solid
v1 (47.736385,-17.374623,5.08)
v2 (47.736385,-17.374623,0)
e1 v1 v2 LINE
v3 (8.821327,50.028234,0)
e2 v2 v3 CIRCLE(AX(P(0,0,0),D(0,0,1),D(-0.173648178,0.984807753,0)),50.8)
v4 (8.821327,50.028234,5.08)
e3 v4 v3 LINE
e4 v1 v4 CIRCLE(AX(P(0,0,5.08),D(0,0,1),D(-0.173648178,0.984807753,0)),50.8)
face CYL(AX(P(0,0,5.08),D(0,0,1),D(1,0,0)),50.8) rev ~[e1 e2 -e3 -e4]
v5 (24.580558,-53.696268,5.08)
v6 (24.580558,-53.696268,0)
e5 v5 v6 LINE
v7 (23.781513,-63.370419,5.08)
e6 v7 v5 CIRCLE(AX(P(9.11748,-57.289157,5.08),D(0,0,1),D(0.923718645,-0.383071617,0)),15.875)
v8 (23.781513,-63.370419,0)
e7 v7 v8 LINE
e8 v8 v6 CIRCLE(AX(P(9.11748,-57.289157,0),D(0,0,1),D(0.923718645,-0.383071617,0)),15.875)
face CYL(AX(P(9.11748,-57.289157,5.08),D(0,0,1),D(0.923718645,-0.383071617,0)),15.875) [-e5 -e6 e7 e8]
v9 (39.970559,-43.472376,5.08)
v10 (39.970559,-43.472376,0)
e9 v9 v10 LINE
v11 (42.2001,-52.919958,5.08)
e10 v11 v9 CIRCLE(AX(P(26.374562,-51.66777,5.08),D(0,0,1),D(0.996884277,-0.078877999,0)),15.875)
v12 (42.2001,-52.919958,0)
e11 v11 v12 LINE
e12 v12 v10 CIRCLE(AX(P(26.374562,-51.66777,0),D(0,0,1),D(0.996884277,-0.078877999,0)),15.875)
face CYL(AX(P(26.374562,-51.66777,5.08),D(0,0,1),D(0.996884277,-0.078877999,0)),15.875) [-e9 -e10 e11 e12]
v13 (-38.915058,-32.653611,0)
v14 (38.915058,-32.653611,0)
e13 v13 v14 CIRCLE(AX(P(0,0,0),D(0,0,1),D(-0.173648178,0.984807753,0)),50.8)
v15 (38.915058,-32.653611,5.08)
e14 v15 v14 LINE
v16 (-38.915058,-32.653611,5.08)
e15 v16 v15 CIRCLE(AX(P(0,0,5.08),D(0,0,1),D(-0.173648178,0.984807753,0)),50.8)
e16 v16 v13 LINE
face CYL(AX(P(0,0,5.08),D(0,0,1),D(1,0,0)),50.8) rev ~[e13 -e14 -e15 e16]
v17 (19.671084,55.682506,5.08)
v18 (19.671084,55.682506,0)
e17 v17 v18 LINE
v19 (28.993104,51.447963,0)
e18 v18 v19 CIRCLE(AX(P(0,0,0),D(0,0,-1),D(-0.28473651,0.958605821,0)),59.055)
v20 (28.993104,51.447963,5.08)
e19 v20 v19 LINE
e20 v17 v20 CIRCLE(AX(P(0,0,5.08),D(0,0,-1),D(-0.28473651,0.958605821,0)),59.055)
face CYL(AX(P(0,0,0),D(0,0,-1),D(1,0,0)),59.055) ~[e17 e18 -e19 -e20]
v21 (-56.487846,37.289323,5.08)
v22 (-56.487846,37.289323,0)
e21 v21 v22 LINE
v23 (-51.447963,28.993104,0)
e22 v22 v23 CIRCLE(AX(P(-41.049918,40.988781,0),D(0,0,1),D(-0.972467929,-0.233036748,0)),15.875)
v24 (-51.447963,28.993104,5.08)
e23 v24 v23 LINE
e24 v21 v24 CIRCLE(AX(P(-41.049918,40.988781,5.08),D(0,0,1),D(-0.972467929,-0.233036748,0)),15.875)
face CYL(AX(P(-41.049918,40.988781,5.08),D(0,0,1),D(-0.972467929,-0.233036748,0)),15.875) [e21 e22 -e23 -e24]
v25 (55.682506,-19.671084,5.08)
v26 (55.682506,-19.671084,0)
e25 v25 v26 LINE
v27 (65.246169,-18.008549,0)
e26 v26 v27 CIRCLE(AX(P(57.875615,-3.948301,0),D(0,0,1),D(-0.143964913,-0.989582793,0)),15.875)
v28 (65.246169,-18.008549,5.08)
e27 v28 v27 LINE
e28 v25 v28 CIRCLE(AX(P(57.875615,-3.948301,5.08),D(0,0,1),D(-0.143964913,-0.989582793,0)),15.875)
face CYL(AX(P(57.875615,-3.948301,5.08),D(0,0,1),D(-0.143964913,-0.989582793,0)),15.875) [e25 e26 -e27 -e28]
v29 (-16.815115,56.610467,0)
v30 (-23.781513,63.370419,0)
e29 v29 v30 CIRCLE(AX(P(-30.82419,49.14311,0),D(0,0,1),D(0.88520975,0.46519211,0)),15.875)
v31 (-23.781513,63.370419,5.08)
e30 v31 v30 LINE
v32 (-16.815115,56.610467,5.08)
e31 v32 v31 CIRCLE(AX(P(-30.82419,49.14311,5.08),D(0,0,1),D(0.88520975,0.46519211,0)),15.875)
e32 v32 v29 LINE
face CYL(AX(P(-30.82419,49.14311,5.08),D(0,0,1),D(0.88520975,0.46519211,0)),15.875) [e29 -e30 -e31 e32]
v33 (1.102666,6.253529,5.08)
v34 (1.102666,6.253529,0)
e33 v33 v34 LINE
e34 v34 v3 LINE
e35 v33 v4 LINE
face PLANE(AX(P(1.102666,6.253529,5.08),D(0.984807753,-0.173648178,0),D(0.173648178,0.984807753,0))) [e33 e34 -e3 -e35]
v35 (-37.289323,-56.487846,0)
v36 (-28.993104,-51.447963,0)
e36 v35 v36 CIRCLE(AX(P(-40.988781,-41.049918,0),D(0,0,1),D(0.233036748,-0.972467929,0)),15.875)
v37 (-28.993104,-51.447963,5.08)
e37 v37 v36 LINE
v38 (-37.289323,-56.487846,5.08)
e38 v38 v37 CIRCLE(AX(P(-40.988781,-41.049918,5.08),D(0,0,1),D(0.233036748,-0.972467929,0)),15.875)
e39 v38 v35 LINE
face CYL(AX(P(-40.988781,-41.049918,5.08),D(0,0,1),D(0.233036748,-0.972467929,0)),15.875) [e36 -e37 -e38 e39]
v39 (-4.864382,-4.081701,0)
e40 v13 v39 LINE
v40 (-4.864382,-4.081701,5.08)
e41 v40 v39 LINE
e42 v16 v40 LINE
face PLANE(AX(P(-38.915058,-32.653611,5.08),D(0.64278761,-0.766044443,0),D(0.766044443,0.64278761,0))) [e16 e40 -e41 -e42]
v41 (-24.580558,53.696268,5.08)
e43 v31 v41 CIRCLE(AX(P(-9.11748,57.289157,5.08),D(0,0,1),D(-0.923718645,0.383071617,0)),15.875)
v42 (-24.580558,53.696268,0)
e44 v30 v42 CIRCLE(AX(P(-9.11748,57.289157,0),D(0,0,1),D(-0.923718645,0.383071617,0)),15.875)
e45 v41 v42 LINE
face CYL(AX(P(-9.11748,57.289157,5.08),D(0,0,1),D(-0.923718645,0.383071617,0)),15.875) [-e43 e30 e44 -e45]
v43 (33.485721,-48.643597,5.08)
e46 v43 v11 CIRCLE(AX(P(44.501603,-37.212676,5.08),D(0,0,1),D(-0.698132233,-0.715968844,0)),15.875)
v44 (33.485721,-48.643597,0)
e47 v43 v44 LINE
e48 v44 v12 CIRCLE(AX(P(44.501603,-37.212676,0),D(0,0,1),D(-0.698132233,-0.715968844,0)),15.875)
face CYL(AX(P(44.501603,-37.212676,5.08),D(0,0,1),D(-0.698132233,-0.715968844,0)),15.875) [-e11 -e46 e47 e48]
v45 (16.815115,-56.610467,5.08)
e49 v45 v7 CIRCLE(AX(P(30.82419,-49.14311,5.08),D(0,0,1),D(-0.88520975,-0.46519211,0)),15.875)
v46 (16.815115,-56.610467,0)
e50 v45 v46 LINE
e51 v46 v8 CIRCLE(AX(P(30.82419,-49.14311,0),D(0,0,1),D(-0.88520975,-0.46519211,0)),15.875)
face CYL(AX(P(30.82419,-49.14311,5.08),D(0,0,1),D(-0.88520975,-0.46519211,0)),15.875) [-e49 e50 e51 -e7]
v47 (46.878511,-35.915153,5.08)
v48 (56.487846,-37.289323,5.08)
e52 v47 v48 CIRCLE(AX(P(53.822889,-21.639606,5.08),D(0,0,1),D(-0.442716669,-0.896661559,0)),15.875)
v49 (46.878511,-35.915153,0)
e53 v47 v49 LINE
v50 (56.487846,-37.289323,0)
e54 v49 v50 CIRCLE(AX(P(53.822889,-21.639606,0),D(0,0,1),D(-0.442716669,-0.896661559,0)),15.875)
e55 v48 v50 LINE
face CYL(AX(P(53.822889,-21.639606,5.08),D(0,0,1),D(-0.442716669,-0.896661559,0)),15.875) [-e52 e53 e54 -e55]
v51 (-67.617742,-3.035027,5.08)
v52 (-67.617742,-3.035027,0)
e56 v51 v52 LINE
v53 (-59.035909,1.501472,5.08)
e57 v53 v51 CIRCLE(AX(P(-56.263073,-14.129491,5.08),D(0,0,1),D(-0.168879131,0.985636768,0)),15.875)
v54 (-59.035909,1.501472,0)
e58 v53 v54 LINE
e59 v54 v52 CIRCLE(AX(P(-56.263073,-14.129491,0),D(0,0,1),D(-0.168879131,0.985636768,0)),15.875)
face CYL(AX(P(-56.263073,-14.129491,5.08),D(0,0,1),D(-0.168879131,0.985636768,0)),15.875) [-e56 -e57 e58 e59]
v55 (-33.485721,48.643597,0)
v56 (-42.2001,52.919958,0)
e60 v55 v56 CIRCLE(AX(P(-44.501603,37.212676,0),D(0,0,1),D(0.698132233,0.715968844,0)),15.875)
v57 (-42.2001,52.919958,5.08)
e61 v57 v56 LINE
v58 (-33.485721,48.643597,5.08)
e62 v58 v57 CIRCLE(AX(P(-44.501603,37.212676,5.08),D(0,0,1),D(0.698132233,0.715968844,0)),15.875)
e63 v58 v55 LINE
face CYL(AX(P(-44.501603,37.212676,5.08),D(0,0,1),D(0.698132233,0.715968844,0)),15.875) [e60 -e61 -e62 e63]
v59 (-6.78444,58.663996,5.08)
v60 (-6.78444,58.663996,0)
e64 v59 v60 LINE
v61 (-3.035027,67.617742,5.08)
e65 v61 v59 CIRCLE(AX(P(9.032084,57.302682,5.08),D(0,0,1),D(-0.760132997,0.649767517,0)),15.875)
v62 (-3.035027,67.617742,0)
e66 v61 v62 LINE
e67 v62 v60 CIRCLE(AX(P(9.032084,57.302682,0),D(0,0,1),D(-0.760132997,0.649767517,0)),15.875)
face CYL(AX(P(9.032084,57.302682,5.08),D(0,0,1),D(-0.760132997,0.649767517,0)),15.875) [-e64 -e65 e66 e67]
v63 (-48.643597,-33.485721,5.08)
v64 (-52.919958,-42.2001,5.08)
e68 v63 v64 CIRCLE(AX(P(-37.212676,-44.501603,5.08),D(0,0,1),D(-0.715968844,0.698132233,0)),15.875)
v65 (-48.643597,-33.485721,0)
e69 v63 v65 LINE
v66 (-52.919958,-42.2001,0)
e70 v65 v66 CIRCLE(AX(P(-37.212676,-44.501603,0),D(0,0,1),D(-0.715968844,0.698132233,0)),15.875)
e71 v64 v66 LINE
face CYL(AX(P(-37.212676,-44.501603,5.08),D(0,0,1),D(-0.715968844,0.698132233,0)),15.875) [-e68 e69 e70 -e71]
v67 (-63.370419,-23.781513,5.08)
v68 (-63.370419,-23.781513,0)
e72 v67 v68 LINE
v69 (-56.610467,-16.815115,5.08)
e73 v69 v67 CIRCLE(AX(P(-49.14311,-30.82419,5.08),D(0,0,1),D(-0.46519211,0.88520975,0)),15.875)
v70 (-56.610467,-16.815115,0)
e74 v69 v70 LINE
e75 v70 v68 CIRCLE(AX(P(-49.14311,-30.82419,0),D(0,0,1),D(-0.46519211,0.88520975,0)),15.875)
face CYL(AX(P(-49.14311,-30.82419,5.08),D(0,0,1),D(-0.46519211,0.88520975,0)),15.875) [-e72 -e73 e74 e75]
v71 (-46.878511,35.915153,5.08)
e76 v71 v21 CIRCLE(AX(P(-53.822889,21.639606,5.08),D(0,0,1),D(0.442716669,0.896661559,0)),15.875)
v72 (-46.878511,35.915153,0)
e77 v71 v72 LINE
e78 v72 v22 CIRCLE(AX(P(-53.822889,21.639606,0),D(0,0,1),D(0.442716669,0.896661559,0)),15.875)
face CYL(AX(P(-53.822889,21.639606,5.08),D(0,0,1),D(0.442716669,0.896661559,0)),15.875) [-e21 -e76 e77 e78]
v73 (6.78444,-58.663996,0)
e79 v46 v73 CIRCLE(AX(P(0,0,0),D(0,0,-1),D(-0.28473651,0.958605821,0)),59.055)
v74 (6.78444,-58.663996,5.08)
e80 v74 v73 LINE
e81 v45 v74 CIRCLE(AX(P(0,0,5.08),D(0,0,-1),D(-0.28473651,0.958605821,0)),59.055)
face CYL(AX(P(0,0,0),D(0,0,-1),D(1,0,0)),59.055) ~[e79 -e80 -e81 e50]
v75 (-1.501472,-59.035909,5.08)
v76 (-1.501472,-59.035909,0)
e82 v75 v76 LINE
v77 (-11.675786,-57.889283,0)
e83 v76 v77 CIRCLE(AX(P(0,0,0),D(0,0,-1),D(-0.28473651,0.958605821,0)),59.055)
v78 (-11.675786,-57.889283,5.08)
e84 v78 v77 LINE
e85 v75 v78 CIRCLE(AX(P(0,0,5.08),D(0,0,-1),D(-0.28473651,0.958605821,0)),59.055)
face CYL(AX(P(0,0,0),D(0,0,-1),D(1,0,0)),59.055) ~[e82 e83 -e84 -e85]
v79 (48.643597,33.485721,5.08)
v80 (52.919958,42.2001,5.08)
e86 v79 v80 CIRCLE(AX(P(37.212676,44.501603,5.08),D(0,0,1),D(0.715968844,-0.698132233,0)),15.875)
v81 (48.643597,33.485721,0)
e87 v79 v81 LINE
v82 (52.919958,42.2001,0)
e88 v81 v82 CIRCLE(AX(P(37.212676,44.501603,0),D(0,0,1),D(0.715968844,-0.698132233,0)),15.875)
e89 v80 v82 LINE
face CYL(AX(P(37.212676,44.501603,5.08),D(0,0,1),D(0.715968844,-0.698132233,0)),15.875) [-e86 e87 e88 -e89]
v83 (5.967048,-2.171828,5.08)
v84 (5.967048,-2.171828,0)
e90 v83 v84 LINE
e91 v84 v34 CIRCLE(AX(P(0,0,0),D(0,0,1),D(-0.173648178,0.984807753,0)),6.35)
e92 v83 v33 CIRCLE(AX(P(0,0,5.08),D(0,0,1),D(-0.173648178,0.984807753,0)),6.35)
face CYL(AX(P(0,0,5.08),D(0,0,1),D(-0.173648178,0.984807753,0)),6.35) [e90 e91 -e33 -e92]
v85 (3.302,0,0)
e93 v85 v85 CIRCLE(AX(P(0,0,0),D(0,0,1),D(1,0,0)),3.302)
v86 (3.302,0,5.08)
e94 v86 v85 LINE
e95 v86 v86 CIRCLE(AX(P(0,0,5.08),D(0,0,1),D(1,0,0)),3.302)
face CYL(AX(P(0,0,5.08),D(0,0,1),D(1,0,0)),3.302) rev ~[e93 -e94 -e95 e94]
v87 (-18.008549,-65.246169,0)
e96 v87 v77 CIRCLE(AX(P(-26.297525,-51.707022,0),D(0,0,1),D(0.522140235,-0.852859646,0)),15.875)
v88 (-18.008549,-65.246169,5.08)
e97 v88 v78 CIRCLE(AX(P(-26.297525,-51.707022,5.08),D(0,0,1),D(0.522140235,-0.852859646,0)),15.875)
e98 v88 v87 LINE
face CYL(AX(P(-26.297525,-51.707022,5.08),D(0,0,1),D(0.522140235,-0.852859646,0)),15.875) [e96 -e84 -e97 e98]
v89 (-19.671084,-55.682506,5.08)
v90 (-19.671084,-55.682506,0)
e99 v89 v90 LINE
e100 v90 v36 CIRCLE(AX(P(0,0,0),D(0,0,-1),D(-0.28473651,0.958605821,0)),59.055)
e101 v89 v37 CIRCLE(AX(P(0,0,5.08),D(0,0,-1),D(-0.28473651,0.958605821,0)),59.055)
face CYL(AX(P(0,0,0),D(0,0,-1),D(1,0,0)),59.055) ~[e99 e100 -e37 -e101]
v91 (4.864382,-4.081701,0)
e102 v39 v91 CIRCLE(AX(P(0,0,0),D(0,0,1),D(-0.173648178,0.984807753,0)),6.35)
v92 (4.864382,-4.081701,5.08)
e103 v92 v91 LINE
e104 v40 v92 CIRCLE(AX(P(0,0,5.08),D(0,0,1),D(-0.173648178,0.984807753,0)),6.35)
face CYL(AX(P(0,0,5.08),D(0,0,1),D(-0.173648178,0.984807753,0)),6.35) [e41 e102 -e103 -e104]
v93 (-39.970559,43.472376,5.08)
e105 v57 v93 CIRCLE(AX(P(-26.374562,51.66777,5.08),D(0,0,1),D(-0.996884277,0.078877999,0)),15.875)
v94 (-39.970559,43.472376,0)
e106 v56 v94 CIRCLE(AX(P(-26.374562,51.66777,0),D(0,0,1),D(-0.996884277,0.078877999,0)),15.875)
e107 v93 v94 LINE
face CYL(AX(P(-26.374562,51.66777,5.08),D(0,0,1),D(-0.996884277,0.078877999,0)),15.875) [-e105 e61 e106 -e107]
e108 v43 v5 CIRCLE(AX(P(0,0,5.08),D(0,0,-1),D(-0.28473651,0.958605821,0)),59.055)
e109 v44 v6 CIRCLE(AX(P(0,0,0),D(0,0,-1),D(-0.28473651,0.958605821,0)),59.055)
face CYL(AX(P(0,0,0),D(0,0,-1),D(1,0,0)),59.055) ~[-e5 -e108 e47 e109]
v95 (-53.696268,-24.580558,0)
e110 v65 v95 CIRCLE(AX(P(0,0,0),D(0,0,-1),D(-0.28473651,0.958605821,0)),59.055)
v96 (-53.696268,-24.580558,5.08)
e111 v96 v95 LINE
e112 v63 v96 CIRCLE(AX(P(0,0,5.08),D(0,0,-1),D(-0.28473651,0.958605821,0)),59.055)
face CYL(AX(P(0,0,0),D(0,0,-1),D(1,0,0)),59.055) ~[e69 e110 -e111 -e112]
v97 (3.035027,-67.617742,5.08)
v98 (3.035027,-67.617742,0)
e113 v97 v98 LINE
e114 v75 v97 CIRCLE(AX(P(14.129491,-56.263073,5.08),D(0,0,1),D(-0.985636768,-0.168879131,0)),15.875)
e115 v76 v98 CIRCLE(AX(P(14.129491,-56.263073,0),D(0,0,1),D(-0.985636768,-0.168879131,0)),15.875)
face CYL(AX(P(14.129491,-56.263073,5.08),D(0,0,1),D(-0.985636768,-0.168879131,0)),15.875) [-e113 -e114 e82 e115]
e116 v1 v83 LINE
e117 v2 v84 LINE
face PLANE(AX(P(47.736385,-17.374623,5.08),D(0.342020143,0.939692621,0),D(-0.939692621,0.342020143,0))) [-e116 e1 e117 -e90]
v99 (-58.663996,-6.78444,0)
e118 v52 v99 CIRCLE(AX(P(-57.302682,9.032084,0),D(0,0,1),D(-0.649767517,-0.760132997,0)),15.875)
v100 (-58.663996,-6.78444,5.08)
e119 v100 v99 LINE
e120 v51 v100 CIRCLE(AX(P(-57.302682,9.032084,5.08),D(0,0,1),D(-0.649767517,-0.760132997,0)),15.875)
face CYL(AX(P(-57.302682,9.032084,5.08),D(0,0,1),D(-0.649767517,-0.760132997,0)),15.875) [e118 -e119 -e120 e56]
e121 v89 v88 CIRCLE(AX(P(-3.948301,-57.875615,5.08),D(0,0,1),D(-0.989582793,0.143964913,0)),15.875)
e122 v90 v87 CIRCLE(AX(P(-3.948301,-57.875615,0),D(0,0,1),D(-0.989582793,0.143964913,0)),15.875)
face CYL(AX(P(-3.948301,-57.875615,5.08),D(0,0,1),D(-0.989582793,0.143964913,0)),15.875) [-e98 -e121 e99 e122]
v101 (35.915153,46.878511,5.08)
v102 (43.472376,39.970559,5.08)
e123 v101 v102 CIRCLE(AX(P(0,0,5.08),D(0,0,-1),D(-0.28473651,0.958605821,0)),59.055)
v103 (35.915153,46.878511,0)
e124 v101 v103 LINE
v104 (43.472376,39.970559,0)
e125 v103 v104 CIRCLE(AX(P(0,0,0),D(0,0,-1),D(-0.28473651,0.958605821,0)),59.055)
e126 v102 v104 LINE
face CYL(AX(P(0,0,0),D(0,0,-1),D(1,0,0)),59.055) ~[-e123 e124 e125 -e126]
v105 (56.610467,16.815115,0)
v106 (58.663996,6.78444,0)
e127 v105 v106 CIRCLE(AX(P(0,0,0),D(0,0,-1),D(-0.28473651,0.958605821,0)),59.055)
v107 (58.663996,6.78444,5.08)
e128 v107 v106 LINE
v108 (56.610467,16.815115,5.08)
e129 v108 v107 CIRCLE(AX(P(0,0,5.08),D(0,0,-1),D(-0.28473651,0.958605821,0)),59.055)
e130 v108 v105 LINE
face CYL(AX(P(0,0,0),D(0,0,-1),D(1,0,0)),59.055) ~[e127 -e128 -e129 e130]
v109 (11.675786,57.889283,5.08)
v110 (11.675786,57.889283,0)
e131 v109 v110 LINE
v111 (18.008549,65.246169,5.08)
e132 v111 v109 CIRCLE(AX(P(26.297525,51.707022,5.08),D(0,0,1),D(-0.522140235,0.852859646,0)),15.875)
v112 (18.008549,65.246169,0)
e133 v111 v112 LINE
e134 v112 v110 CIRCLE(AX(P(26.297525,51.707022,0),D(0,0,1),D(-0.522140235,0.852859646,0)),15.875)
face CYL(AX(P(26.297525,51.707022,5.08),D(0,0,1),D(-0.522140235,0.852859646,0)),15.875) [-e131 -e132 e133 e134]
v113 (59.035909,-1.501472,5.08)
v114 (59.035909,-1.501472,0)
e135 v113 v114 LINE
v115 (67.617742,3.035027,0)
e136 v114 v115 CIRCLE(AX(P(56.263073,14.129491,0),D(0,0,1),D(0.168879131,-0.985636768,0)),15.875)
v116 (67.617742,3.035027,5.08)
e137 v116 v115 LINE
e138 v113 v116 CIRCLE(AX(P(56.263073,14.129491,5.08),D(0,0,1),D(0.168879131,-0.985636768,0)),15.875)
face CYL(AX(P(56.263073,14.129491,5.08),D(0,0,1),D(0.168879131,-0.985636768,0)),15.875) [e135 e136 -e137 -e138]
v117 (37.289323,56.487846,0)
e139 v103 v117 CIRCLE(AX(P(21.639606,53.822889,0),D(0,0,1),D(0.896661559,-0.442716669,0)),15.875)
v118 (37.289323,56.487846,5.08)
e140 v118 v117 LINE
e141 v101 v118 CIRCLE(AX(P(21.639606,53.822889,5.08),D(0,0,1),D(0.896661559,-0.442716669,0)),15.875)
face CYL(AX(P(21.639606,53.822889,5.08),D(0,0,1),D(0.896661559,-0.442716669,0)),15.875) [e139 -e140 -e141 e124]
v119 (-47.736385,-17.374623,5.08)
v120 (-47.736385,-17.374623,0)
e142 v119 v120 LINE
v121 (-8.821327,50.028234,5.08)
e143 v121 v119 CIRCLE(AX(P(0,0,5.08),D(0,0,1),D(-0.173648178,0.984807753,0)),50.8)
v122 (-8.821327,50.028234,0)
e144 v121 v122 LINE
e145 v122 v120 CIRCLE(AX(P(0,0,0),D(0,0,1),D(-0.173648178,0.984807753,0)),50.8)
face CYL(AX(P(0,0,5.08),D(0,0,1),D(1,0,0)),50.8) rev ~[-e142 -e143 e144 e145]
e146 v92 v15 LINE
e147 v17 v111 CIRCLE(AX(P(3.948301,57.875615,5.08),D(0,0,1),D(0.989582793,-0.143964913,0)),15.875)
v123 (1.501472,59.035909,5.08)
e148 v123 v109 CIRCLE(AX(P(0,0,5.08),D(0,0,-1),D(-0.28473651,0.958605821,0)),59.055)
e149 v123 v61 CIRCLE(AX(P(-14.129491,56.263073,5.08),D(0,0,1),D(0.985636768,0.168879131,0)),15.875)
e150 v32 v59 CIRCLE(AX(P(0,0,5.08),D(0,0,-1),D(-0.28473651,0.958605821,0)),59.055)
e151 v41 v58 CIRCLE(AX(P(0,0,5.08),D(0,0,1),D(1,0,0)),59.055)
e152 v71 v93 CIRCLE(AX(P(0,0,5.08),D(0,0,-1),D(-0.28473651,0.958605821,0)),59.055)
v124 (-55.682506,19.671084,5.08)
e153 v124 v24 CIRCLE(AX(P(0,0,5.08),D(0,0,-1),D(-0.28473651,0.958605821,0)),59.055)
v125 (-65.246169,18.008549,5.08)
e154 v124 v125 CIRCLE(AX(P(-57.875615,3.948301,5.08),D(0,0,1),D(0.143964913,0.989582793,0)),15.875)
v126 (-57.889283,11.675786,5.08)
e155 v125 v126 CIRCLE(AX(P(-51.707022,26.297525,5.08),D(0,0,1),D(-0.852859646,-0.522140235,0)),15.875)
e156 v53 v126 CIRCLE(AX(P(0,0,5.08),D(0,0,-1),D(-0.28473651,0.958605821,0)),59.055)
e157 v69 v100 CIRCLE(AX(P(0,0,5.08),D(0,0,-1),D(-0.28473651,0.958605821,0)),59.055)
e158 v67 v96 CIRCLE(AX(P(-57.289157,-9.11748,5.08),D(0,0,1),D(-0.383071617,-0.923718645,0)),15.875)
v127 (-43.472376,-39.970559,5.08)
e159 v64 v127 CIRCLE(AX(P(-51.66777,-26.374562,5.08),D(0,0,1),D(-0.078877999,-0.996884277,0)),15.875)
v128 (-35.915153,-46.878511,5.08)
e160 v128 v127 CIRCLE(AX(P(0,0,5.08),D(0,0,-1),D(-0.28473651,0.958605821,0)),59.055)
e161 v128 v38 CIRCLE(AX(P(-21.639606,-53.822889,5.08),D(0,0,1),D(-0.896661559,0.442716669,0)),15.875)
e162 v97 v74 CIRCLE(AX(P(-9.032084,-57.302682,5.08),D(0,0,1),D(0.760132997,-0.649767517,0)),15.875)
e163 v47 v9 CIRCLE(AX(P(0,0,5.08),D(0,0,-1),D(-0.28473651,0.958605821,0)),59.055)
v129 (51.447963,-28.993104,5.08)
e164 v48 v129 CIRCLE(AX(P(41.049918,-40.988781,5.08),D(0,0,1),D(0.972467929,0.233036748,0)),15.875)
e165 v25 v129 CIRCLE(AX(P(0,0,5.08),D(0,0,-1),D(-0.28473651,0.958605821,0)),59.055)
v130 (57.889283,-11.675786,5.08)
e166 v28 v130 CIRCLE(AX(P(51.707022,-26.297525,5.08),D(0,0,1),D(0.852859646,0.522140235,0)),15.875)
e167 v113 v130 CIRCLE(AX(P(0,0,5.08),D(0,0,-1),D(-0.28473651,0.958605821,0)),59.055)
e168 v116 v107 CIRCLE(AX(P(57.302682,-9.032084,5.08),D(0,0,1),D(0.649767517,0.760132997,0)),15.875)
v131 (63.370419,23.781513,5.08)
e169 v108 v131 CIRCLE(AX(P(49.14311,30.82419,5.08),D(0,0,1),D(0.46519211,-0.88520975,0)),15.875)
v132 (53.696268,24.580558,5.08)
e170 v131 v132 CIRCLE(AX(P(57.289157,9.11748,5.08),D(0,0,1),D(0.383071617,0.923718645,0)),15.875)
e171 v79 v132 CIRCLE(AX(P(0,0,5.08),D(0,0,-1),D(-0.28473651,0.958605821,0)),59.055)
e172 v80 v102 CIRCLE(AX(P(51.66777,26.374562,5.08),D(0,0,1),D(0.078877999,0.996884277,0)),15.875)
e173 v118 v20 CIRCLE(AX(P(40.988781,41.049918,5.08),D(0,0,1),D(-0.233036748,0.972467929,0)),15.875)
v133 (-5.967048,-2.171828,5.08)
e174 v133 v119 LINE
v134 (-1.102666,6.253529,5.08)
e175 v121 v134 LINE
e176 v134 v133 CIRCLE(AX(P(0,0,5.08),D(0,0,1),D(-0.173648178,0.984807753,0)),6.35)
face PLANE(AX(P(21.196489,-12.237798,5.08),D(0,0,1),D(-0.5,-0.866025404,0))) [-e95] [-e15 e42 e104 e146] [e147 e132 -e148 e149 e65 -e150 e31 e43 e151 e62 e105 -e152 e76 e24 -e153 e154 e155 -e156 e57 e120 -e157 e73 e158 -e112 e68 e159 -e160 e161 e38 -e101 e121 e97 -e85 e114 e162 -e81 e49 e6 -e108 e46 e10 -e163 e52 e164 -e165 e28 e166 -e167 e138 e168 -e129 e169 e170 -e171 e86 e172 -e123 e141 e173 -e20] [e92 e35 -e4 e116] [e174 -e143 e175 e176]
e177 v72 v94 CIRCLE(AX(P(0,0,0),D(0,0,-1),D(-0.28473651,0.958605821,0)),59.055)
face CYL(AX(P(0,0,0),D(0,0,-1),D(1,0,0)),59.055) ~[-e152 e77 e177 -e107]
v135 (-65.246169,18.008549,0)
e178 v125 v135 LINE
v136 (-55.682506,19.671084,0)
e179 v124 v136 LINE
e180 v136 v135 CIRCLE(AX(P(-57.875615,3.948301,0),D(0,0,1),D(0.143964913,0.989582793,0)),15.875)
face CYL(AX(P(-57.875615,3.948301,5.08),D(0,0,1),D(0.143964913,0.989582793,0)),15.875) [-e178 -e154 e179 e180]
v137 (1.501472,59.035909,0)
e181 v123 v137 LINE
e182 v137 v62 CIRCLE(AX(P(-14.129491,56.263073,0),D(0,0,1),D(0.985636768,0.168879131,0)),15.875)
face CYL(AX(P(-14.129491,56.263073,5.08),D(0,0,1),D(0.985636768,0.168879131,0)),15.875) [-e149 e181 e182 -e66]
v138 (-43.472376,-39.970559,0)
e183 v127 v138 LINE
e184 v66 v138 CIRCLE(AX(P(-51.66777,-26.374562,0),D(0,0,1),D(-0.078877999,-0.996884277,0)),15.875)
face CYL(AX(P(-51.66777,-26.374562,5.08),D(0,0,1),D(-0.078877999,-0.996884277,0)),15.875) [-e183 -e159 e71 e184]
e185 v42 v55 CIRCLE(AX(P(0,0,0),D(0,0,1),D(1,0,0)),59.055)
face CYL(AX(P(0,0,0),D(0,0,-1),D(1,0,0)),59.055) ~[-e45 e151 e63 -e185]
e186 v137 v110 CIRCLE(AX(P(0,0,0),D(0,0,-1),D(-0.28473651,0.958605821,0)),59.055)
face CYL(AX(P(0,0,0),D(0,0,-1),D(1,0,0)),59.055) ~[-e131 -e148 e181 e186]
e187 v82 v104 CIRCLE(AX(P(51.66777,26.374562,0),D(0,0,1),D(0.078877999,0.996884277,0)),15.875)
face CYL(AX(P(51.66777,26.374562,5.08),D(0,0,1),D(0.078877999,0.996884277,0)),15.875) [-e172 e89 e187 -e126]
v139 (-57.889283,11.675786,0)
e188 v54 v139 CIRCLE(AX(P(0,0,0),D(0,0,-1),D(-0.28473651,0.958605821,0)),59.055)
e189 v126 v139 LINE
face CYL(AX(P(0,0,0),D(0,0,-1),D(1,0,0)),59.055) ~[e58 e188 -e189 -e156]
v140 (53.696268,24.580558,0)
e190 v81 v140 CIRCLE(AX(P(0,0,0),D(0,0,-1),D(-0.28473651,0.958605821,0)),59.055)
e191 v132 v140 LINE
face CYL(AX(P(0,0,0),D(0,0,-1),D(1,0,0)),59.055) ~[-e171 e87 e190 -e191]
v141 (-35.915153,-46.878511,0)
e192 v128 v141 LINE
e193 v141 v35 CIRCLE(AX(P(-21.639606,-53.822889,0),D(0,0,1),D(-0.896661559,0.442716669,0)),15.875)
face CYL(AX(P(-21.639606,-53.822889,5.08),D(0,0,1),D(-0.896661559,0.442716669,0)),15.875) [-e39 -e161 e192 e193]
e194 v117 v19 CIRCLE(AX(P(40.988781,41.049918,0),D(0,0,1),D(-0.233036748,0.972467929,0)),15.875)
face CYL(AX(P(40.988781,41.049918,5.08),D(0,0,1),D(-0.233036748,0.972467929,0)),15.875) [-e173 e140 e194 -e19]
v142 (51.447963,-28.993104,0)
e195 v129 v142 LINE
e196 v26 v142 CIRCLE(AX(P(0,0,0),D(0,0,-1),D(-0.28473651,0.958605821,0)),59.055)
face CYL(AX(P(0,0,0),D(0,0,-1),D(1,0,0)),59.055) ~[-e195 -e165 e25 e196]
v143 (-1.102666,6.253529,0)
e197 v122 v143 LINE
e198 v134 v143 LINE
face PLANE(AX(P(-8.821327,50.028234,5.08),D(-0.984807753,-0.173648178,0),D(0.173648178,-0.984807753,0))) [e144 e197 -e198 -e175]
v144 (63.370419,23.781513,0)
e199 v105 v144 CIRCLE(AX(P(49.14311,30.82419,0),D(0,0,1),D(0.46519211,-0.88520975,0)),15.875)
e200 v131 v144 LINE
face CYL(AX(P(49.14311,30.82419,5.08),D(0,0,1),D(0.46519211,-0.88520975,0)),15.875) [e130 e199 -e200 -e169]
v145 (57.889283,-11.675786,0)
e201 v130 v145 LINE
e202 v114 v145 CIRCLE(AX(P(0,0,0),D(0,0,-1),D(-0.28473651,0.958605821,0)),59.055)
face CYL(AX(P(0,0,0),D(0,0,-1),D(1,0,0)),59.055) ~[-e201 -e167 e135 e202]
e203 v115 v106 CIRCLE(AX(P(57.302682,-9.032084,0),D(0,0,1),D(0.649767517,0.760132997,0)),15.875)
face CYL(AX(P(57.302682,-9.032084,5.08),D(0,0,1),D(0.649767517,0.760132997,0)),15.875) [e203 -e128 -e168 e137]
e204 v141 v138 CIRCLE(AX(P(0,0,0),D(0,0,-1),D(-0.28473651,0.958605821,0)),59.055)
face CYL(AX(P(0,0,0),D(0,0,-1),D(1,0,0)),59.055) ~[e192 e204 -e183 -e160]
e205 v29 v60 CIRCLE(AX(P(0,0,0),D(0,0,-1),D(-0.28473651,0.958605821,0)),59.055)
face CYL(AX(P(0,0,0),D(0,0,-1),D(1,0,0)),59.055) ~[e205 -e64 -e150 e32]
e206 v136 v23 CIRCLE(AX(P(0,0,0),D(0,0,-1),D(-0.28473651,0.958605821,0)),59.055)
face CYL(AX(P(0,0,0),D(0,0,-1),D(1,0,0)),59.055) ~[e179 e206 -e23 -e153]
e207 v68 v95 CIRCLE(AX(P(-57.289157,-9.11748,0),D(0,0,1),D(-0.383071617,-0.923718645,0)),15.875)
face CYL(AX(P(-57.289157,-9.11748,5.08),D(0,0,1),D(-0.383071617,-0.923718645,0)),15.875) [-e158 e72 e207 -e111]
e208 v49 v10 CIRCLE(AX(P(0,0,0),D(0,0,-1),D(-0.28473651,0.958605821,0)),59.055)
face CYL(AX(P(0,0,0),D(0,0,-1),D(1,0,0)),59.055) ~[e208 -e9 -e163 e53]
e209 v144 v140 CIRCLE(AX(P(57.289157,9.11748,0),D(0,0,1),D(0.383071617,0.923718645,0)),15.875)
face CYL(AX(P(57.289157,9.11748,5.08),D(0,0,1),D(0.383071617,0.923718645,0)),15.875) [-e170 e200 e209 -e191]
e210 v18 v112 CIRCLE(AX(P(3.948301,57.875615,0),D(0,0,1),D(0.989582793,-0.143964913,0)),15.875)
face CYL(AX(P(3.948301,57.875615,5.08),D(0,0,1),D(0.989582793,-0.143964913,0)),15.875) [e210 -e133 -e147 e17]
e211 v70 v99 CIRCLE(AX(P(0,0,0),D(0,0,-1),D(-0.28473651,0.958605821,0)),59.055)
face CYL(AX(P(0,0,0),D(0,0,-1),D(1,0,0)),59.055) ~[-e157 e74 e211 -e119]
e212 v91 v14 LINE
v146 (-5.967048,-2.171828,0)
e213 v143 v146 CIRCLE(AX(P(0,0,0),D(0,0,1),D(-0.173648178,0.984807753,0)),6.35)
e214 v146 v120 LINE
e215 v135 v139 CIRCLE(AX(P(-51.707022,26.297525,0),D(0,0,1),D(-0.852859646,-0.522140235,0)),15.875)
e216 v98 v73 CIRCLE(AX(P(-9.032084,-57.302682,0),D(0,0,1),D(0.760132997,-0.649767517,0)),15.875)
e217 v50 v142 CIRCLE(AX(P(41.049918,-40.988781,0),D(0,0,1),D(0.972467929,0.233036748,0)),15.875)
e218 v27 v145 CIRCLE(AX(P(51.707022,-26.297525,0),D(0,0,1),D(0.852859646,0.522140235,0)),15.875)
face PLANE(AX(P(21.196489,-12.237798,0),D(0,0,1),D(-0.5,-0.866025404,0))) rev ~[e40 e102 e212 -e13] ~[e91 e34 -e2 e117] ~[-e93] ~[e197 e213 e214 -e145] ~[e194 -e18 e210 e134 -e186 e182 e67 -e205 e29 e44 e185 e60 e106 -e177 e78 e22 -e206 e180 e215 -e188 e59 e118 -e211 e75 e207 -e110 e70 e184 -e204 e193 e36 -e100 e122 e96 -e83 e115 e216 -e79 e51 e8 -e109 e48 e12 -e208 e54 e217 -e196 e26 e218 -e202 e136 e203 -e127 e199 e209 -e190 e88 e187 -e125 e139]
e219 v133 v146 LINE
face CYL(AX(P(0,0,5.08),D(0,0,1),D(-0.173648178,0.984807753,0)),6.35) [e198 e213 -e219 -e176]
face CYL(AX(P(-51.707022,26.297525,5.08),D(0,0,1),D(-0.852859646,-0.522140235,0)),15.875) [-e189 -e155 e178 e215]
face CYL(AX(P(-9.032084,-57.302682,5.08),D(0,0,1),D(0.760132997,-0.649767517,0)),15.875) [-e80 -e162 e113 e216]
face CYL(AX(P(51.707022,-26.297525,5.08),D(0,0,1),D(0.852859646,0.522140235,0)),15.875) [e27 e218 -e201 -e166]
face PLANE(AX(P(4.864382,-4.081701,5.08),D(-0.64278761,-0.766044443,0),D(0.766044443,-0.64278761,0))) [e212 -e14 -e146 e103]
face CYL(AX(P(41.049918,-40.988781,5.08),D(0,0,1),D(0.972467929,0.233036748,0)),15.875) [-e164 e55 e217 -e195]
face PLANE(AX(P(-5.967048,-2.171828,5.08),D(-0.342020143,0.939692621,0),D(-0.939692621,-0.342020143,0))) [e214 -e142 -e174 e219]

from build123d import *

# Parameters (mm, degrees)
F0_R      = 59.055
F1_DEPTH  = 5.08
F3_DEPTH  = 5.08
F4_COUNT  = 20
F5_R      = 50.8
F6_DEPTH  = 5.081
F7_DEPTH  = 5.081
F9_DEPTH  = 5.08
F10_COUNT = 3
F11_R     = 3.302
F12_DEPTH = 5.081


with BuildPart() as f1:
    # F0 (on Top) → F1 (new body)
    with BuildSketch(Plane.XY):
        Circle(F0_R)
    extrude(amount=F1_DEPTH)

    # F4: F3 ×20 about axis
    f4_axis = Axis((0, 0, 5.08), (0, 0, 1))


with BuildPart() as f3:
    # F2 (on face) → F3 (new body, through all)
    with BuildSketch(Plane.XY.offset(5.08)):
        with BuildLine():
            Line((-6.7921649906, 58.5710500385), (1.5174926213, 58.9440295875))
            ThreePointArc((1.5174926213, 58.9440295875), (-0.0730129244, 63.6408133417), (-3.035026947, 67.6177416104))
            ThreePointArc((-3.035026947, 67.6177416104), (-5.6288384248, 63.3914397349), (-6.7921649906, 58.5710500385))
        make_face()
    extrude(amount=-F3_DEPTH)


with BuildPart() as f1_1:
    add(f1.part)
    for i in range(1, F4_COUNT):
        add(f3.part.rotate(f4_axis, i * 360 / F4_COUNT))

    # F5 (on face) → F6 (cut, through all)
    with BuildSketch(Plane.XY.offset(5.08)):
        Circle(F5_R)
    extrude(amount=-F6_DEPTH, mode=Mode.SUBTRACT)

    # F5 (on face) → F7 (cut, through all)
    with BuildSketch(Plane.XY.offset(5.08)):
        Circle(F5_R)
    extrude(amount=-F7_DEPTH, mode=Mode.SUBTRACT)



with BuildPart() as f9:
    # F8 (on face) → F9 (new body, through all)
    with BuildSketch(Plane.XY.offset(5.08)):
        with BuildLine():
            Line((-8.8213274255, 50.028233853), (-1.1026659282, 6.2535292316))
            ThreePointArc((-1.1026659282, 6.2535292316), (0, -6.35), (1.1026659282, 6.2535292316))
            Line((1.1026659282, 6.2535292316), (8.8213274255, 50.028233853))
            ThreePointArc((8.8213274255, 50.028233853), (0, 50.8), (-8.8213274255, 50.028233853))
        make_face()
    extrude(amount=-F9_DEPTH)


with BuildPart() as f1_2:
    add(f1_1.part)

    add(f3.part)  # F10 merges F3

    add(f9.part)  # F10 merges F9
    # F10: F9 ×3 about axis
    f10_axis = Axis((0, 0, 5.08), (0, 0, 1))
    for i in range(1, F10_COUNT):
        add(f9.part.rotate(f10_axis, i * 360 / F10_COUNT))

    # F11 (on face) → F12 (cut, through all)
    with BuildSketch(Plane.XY.offset(5.08)):
        Circle(F11_R)
    extrude(amount=-F12_DEPTH, mode=Mode.SUBTRACT)


solid = f1_2.part
